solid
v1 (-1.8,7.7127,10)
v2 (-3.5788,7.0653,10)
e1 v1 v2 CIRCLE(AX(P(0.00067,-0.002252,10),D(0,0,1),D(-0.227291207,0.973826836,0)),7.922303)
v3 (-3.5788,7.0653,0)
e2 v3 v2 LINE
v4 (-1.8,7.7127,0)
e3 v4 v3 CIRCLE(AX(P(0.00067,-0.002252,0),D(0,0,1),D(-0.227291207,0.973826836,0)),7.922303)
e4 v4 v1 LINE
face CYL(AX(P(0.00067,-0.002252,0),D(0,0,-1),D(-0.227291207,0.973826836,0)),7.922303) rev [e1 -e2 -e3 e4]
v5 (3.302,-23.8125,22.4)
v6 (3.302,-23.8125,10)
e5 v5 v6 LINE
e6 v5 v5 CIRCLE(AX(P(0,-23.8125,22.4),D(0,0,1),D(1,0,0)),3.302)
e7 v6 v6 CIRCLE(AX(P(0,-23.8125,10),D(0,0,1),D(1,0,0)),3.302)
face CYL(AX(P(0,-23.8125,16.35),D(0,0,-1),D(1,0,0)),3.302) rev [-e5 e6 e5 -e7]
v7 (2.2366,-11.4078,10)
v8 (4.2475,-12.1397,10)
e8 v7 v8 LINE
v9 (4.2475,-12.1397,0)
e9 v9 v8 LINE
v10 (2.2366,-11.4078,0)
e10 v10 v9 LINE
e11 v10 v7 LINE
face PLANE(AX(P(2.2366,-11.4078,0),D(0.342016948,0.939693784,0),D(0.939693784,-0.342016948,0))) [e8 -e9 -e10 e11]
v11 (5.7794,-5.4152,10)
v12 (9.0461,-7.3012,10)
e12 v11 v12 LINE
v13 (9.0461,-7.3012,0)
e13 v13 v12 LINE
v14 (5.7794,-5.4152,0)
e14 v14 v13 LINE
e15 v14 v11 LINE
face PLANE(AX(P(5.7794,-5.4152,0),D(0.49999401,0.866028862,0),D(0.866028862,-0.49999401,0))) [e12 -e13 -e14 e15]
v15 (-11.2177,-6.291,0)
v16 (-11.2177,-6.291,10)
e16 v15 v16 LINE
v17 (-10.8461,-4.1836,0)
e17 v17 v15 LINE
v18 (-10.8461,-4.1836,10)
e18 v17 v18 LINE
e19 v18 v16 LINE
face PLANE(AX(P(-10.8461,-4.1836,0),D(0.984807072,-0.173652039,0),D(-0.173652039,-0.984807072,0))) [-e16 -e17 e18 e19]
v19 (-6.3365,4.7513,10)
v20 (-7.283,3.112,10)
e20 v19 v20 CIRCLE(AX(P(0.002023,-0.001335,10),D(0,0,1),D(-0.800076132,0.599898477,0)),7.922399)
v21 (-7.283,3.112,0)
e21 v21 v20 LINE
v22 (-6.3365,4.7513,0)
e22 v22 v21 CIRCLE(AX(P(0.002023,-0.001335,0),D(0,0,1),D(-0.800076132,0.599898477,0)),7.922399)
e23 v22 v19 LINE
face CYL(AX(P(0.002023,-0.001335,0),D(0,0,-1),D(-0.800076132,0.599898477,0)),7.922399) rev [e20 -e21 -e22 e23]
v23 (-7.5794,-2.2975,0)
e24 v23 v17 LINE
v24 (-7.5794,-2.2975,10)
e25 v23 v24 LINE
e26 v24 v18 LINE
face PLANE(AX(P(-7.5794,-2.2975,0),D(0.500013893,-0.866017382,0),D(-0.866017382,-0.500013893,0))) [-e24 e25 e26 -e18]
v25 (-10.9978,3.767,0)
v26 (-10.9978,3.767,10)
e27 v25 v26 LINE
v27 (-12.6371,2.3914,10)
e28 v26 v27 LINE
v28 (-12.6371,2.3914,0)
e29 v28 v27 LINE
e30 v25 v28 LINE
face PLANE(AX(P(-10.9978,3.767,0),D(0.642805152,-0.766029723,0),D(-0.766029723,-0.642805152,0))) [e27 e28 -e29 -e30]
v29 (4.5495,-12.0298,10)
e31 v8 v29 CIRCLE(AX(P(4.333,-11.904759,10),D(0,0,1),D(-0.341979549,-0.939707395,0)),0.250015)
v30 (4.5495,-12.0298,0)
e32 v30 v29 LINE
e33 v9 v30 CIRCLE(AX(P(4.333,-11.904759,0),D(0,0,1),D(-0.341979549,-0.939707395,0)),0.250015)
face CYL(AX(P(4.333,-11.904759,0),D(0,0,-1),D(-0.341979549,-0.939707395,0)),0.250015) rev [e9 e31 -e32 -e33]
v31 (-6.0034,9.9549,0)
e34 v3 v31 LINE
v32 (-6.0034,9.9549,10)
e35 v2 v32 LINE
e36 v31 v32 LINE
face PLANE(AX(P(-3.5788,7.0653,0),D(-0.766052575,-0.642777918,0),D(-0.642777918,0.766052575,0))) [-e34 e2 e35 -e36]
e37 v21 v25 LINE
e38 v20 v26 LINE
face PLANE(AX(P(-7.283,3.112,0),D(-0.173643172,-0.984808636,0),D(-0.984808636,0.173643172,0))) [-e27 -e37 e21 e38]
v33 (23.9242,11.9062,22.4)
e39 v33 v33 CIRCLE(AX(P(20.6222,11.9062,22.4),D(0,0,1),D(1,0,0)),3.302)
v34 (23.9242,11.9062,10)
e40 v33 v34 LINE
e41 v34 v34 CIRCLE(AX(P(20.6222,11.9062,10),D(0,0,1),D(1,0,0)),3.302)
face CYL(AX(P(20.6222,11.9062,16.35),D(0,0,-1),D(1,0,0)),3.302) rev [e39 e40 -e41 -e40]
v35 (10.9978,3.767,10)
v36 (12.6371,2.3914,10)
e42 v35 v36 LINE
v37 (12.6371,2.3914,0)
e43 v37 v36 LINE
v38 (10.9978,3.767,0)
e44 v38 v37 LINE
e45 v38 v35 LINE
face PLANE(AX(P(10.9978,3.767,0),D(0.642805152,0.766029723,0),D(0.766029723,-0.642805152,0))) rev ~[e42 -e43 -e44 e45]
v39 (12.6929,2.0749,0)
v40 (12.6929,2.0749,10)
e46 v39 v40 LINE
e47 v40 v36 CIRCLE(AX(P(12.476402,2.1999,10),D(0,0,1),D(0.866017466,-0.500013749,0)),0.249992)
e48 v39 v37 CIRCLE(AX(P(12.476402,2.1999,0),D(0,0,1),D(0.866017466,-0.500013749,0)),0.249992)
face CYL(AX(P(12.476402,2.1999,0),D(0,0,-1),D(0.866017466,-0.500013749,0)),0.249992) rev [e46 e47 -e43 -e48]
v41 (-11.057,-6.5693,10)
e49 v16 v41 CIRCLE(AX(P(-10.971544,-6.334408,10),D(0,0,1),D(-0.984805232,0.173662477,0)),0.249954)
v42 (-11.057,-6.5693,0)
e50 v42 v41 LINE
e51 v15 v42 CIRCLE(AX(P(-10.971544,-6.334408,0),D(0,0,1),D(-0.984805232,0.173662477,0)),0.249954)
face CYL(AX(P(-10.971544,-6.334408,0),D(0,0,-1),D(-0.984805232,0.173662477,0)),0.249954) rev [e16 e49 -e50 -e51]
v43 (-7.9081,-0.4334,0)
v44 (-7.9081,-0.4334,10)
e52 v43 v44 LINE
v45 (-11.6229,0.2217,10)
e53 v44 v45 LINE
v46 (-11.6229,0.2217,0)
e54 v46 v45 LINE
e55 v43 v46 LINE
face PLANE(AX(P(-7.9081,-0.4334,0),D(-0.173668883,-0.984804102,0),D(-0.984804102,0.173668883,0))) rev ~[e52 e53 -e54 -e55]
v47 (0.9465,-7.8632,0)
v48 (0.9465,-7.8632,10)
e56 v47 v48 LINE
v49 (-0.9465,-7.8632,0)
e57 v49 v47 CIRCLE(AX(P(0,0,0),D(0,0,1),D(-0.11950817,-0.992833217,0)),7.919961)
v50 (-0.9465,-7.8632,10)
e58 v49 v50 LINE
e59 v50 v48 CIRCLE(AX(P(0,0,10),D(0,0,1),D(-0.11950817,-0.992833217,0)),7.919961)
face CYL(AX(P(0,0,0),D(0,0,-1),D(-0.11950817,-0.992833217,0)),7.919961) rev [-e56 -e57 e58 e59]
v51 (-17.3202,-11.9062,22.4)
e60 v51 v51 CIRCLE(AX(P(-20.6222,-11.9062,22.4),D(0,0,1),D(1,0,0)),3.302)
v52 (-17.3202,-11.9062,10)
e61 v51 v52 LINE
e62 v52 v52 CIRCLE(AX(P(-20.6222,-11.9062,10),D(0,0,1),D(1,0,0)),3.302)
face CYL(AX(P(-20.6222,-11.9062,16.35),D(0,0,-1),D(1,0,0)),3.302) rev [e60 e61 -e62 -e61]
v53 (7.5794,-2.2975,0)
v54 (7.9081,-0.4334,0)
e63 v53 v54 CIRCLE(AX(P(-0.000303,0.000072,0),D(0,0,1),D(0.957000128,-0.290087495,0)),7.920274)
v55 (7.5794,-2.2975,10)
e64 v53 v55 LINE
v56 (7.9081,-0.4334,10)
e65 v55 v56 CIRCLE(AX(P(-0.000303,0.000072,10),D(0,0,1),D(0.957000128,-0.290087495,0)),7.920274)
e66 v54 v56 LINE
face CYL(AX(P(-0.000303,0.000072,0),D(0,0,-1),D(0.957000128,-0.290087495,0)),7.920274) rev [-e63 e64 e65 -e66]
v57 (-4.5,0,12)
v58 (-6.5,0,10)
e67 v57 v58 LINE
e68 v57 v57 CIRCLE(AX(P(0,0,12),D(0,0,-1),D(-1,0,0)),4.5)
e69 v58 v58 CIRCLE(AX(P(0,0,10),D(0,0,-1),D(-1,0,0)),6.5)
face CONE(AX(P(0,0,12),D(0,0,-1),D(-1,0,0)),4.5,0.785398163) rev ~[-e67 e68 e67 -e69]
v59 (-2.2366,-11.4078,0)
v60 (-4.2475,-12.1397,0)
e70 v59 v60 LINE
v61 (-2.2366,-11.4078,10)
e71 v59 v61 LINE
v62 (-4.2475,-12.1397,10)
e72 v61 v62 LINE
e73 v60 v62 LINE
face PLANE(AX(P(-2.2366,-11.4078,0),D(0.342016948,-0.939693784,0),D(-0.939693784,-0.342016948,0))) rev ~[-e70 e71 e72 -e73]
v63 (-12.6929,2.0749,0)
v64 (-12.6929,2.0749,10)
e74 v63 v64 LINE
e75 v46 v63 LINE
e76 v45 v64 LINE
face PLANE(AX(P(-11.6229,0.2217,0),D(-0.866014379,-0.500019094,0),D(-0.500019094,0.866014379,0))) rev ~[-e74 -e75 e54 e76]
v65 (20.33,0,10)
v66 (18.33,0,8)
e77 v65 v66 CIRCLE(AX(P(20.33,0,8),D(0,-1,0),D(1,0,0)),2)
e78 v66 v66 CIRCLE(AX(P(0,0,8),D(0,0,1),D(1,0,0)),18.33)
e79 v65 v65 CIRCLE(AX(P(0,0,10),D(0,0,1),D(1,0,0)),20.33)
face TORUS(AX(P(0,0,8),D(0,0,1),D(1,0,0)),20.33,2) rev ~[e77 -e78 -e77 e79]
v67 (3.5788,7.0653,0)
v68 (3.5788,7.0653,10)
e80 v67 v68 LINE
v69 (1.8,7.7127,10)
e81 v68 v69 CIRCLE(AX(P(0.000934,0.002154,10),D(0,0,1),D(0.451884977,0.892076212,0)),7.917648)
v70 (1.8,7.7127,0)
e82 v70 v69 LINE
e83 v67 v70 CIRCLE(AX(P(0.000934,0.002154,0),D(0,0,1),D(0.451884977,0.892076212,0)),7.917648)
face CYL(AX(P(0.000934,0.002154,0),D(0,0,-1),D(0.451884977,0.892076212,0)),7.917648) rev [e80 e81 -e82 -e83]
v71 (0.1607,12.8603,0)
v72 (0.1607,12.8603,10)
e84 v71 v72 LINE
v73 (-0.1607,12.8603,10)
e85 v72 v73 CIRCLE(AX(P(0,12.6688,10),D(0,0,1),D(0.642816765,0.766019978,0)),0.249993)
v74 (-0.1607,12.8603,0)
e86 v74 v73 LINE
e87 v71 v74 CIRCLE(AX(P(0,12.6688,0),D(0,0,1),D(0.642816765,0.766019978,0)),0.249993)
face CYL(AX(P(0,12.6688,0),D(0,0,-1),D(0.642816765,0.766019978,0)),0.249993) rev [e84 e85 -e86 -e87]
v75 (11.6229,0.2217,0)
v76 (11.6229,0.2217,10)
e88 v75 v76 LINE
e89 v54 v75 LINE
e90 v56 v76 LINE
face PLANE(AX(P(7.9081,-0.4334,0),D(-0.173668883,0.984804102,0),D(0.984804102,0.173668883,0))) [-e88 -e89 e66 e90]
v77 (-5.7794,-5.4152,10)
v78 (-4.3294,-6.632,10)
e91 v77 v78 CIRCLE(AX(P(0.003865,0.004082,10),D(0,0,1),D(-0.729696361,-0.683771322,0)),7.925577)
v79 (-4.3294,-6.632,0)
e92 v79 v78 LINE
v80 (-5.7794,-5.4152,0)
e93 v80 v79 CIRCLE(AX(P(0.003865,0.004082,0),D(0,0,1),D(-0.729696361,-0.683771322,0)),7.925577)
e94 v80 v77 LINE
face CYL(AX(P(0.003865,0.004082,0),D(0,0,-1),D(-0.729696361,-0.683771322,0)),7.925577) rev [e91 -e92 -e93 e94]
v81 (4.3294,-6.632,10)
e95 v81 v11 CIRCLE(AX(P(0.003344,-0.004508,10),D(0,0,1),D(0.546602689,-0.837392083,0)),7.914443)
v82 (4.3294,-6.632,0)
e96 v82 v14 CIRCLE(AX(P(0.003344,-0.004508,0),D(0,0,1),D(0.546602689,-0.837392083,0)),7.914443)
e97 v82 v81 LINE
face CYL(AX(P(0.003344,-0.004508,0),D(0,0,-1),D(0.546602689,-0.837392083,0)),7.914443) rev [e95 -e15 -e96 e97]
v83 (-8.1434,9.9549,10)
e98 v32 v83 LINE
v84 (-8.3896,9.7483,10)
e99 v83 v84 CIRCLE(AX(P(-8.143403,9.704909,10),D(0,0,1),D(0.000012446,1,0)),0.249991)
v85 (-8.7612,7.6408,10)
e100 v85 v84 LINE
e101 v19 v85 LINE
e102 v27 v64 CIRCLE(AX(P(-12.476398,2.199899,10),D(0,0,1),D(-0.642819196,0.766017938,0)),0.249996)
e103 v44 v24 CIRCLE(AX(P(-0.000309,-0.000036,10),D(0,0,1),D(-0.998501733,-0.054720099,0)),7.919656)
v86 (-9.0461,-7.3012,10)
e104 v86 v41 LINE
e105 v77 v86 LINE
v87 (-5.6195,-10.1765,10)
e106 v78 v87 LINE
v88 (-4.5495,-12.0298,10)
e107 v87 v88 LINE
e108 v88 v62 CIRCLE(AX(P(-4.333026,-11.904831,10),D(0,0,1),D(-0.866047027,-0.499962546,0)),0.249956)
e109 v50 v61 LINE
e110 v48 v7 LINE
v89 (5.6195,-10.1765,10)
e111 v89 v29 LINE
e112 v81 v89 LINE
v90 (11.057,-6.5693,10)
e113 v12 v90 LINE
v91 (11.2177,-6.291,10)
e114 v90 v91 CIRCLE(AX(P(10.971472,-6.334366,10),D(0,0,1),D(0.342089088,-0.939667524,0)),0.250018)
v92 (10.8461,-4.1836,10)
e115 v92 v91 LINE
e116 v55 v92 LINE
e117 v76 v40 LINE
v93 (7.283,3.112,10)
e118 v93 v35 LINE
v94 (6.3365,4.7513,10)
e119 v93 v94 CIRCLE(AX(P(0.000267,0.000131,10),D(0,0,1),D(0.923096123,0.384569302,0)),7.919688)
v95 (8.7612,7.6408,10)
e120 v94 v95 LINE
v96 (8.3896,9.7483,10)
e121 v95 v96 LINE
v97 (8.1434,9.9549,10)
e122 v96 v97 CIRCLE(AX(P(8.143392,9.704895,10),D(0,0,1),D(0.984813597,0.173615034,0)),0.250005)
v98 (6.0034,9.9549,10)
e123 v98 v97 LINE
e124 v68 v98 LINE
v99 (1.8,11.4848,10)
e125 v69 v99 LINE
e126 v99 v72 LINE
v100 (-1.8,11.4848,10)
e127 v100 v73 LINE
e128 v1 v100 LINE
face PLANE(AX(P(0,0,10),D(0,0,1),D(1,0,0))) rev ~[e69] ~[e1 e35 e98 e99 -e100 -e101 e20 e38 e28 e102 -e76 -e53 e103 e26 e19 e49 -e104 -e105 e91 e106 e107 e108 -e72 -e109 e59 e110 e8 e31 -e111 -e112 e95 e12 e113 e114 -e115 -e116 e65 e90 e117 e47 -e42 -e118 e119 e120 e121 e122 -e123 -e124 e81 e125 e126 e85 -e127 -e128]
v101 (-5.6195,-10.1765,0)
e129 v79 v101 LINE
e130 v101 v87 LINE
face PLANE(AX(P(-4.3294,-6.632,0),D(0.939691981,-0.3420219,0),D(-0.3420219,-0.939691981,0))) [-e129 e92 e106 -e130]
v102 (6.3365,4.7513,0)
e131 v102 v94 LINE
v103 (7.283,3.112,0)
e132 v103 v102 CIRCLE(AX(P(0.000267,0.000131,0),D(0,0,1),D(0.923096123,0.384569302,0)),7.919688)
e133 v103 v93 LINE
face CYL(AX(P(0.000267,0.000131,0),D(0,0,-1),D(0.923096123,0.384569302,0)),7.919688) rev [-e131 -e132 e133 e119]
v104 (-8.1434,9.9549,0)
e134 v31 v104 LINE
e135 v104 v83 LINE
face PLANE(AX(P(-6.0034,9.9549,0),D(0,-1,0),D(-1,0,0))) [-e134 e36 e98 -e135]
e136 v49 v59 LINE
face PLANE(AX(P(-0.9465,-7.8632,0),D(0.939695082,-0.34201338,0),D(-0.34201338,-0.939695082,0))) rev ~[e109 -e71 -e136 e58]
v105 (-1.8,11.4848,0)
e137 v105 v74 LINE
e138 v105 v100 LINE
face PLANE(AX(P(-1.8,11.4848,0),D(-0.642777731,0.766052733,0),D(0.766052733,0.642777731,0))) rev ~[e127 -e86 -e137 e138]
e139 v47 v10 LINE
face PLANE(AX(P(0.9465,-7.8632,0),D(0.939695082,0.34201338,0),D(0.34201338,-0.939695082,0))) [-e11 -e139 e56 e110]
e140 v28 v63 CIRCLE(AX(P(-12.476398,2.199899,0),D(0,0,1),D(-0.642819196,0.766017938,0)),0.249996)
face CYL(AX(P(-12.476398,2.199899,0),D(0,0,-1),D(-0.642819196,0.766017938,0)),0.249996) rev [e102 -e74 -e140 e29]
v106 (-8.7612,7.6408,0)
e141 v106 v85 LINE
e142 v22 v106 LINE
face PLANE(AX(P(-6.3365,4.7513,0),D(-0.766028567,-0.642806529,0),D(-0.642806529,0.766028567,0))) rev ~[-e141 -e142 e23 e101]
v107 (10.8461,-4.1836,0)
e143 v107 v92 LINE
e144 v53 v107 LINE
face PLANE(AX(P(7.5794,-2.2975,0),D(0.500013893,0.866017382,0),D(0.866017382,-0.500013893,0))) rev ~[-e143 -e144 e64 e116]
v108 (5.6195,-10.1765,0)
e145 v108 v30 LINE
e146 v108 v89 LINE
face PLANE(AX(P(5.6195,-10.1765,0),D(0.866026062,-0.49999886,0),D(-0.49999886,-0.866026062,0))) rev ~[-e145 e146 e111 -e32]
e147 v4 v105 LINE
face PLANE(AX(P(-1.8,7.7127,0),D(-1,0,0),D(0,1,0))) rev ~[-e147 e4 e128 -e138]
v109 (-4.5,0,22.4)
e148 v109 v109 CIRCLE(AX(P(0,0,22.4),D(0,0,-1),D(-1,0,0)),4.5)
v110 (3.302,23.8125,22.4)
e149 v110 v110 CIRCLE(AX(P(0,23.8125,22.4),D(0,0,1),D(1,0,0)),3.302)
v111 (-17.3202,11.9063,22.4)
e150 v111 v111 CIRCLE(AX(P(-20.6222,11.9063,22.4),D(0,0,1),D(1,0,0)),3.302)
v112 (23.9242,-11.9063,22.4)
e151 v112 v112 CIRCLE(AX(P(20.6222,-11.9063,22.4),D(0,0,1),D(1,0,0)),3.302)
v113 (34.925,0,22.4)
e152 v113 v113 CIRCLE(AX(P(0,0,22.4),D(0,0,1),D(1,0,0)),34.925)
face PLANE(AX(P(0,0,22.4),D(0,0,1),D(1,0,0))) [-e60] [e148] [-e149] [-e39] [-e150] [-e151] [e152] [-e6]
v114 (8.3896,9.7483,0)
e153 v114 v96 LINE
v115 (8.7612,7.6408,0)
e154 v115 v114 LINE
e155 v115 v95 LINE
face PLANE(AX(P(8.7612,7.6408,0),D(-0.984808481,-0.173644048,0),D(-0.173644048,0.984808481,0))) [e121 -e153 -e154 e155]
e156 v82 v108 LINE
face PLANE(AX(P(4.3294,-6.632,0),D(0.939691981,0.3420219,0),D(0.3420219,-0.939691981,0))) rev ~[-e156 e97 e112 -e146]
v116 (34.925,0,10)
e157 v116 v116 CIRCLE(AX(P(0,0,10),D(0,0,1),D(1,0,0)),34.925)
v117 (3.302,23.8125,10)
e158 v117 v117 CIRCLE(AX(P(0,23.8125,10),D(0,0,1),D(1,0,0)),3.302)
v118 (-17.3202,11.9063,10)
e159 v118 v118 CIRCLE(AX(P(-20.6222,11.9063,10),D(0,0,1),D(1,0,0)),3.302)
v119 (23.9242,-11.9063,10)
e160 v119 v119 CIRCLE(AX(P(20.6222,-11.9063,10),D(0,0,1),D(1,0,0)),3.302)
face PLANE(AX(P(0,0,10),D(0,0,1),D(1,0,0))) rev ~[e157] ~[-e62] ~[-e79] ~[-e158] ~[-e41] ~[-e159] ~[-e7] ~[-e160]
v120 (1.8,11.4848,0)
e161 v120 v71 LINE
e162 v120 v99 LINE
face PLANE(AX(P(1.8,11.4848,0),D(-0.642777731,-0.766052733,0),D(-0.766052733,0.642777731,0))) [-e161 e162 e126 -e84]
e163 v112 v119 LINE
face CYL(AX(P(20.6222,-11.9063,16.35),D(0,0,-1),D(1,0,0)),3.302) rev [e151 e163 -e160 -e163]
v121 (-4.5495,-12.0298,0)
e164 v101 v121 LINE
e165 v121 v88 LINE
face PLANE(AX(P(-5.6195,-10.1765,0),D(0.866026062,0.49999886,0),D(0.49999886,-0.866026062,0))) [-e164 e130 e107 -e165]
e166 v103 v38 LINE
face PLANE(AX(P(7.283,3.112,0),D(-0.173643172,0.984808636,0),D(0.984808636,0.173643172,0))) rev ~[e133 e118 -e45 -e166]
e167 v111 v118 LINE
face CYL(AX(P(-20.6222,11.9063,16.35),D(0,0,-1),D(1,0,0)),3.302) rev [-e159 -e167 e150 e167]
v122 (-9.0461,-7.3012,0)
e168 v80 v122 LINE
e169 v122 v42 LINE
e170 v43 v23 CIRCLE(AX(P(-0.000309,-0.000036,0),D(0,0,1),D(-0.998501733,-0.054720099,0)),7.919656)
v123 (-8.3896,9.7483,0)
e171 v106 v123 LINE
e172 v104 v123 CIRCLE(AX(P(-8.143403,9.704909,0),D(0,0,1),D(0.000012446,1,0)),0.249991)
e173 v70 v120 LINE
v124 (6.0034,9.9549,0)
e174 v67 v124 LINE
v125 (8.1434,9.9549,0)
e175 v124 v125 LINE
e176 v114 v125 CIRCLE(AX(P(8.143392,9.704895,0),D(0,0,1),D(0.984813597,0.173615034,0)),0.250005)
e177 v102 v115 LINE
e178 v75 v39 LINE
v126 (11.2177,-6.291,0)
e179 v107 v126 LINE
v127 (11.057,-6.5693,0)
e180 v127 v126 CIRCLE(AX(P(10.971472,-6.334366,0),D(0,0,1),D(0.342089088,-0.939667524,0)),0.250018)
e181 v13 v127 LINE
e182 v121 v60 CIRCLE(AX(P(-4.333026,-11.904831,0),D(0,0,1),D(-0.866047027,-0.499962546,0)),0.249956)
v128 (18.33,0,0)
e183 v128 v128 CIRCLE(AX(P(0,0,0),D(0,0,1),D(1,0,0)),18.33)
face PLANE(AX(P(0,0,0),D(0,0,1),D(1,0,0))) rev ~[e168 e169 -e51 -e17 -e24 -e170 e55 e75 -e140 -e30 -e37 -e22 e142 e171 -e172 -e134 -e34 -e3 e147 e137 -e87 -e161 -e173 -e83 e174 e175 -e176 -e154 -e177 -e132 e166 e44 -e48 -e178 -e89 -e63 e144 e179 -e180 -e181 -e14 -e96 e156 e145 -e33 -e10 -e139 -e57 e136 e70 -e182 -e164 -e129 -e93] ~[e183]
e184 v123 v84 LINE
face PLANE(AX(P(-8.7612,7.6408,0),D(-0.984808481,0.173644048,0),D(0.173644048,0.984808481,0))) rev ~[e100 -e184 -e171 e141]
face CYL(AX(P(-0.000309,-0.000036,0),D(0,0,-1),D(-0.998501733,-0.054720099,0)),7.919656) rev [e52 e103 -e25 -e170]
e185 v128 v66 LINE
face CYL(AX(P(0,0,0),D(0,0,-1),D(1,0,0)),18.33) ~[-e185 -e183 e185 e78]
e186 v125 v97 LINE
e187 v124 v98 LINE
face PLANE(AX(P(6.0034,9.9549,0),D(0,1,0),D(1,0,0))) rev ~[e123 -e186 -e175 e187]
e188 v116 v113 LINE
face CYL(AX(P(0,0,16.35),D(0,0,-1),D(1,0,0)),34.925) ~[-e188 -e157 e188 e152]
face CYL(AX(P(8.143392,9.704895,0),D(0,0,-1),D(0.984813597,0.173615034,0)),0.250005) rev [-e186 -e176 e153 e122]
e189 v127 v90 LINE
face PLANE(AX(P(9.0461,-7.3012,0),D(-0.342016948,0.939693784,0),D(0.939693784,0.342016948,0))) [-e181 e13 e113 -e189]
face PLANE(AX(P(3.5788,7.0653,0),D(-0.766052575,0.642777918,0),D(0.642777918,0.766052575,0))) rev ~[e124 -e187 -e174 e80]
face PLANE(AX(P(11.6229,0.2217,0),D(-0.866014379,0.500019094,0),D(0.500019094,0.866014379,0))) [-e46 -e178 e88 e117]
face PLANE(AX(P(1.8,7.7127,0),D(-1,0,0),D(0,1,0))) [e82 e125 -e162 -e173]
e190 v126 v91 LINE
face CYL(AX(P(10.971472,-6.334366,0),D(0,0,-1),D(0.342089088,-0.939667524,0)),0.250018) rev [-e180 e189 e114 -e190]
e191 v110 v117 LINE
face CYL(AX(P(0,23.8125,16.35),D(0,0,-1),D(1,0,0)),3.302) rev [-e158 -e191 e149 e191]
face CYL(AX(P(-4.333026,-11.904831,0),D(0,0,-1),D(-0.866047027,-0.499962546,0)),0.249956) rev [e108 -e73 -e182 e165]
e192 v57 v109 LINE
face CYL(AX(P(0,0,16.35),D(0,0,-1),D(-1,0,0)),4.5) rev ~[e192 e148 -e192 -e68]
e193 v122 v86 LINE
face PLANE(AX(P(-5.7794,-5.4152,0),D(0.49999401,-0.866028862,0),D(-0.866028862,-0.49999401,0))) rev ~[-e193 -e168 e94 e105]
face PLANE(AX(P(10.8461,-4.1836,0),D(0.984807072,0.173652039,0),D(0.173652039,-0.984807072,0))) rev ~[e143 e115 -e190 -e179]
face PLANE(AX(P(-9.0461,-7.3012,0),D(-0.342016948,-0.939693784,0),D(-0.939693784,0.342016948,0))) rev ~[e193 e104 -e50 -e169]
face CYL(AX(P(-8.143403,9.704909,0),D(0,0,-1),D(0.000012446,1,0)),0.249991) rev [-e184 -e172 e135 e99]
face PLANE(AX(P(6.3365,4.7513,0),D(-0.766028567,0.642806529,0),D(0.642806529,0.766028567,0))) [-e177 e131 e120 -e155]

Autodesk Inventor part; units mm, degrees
ref_plane "YZ Plane" through (0, 0, 0) normal (1, 0, 0) x (0, 1, 0)
sketch "Sketch1" plane through (0, 0, 0) normal (0, 0, 1) x (1, 0, 0)
  circle A0 centre (0, 0) radius 18.33
  arc A1 (-1.8, 7.7127) -> (-3.5788, 7.0653) centre (0, 0) ccw
  arc A2 (3.5788, 7.0653) -> (1.8, 7.7127) centre (0, 0) ccw
  arc A3 (7.3109, 3.0458) -> (6.3365, 4.7513) centre (0, 0) ccw
  arc A4 (7.5794, -2.2975) -> (7.9081, -0.4334) centre (0, 0) ccw
  arc A5 (4.3294, -6.632) -> (5.7794, -5.4152) centre (0, 0) ccw
  arc A6 (-0.9465, -7.8632) -> (0.9465, -7.8632) centre (0, 0) ccw
  arc A7 (-5.7794, -5.4152) -> (-4.3294, -6.632) centre (0, 0) ccw
  arc A8 (-6.3365, 4.7513) -> (-7.283, 3.112) centre (0, 0) ccw
  arc A9 (-7.9081, -0.4334) -> (-7.5794, -2.2975) centre (0, 0) ccw
  line L0 (-0.9465, -7.8632) -> (-2.2366, -11.4078)
  line L1 (-4.3294, -6.632) -> (-5.6195, -10.1765)
  line L2 (-5.6195, -10.1765) -> (-4.5495, -12.0298)
  line L3 (-2.2366, -11.4078) -> (-4.2475, -12.1397)
  arc A10 (-4.5495, -12.0298) -> (-4.2475, -12.1397) centre (-4.333, -11.9048) ccw
  line L4 (4.3294, -6.632) -> (5.6195, -10.1765)
  line L5 (0.9465, -7.8632) -> (2.2366, -11.4078)
  line L6 (2.2366, -11.4078) -> (4.2475, -12.1397)
  line L7 (5.6195, -10.1765) -> (4.5495, -12.0298)
  arc A11 (4.2475, -12.1397) -> (4.5495, -12.0298) centre (4.333, -11.9048) ccw
  line L8 (7.5794, -2.2975) -> (10.8461, -4.1836)
  line L9 (5.7794, -5.4152) -> (9.0461, -7.3012)
  line L10 (9.0461, -7.3012) -> (11.057, -6.5693)
  line L11 (10.8461, -4.1836) -> (11.2177, -6.291)
  arc A12 (11.057, -6.5693) -> (11.2177, -6.291) centre (10.9715, -6.3344) ccw
  line L12 (7.283, 3.112) -> (10.9978, 3.767)
  line L13 (7.9081, -0.4334) -> (11.6229, 0.2217)
  line L14 (11.6229, 0.2217) -> (12.6929, 2.0749)
  line L15 (10.9978, 3.767) -> (12.6371, 2.3914)
  arc A13 (12.6929, 2.0749) -> (12.6371, 2.3914) centre (12.4764, 2.1999) ccw
  line L16 (3.5788, 7.0653) -> (6.0034, 9.9549)
  line L17 (6.3365, 4.7513) -> (8.7612, 7.6408)
  line L18 (8.7612, 7.6408) -> (8.3896, 9.7483)
  line L19 (6.0034, 9.9549) -> (8.1434, 9.9549)
  arc A14 (8.3896, 9.7483) -> (8.1434, 9.9549) centre (8.1434, 9.7049) ccw
  line L20 (-1.8, 7.7127) -> (-1.8, 11.4848)
  line L21 (1.8, 7.7127) -> (1.8, 11.4848)
  line L22 (1.8, 11.4848) -> (0.1607, 12.8603)
  line L23 (-1.8, 11.4848) -> (-0.1607, 12.8603)
  arc A15 (0.1607, 12.8603) -> (-0.1607, 12.8603) centre (0, 12.6688) ccw
  line L24 (-6.3365, 4.7513) -> (-8.7612, 7.6408)
  line L25 (-3.5788, 7.0653) -> (-6.0034, 9.9549)
  line L26 (-6.0034, 9.9549) -> (-8.1434, 9.9549)
  line L27 (-8.7612, 7.6408) -> (-8.3896, 9.7483)
  arc A16 (-8.1434, 9.9549) -> (-8.3896, 9.7483) centre (-8.1434, 9.7049) ccw
  line L28 (-7.9081, -0.4334) -> (-11.6229, 0.2217)
  line L29 (-7.283, 3.112) -> (-10.9978, 3.767)
  line L30 (-10.9978, 3.767) -> (-12.6371, 2.3914)
  line L31 (-11.6229, 0.2217) -> (-12.6929, 2.0749)
  arc A17 (-12.6371, 2.3914) -> (-12.6929, 2.0749) centre (-12.4764, 2.1999) ccw
  line L32 (-5.7794, -5.4152) -> (-9.0461, -7.3012)
  line L33 (-7.5794, -2.2975) -> (-10.8461, -4.1836)
  line L34 (-10.8461, -4.1836) -> (-11.2177, -6.291)
  line L35 (-9.0461, -7.3012) -> (-11.057, -6.5693)
  arc A18 (-11.2177, -6.291) -> (-11.057, -6.5693) centre (-10.9715, -6.3344) ccw
  arc A19 (-0.9465, -7.8632) -> (0.9465, -7.8632) centre (0, 0) ccw
  arc A20 (4.3294, -6.632) -> (5.7794, -5.4152) centre (0, 0) ccw
  arc A21 (7.5794, -2.2975) -> (7.9081, -0.4334) centre (0, 0) ccw
  arc A22 (7.283, 3.112) -> (6.3365, 4.7513) centre (0, 0) ccw
  arc A23 (3.5788, 7.0653) -> (1.8, 7.7127) centre (0, 0) ccw
  arc A24 (-1.8, 7.7127) -> (-3.5788, 7.0653) centre (0, 0) ccw
  arc A25 (-6.3365, 4.7513) -> (-7.283, 3.112) centre (0, 0) ccw
  arc A26 (-7.9081, -0.4334) -> (-7.5794, -2.2975) centre (0, 0) ccw
  arc A27 (-5.7794, -5.4152) -> (-4.3294, -6.632) centre (0, 0) ccw
  point P0 (-2.306, -11.394)
  point P1 (-5.5574, -10.2106)
  dimension "d58" = 0.25
  dimension "d61" = 360
ref_plane "Work Plane1" through (0, 0, 10) normal (0, 0, 1) x (1, 0, 0)
sketch "Sketch2" plane through (0, 0, 10) normal (0, 0, 1) x (1, 0, 0)
  circle A0 centre (0, 0) radius 34.925
  circle A1 centre (0, 23.8125) radius 3.302
  circle A2 centre (-20.6222, 11.9063) radius 3.302
  circle A3 centre (-20.6222, -11.9062) radius 3.302
  circle A4 centre (0, -23.8125) radius 3.302
  circle A5 centre (20.6222, -11.9063) radius 3.302
  circle A6 centre (20.6222, 11.9062) radius 3.302
  dimension "d42" = 69.85
  dimension "d44" = 6.604
  dimension "d47" = 360
extrude "Extrusion2" add sketch "Sketch2" along normal blind 6.35
ref_plane "Work Plane2" through (0, 0, 10) normal (0, 0, -1) x (-1, 0, 0)
extrude "Extrusion4" add sketch "Sketch1" along normal up to surface (10 mm away)
sketch "Sketch4" plane through (0, 0, 10) normal (0, 0, -1) x (-1, 0, 0)
  circle A0 centre (0, 0) radius 4.5
  dimension "d65" = 9
extrude "Extrusion5" cut sketch "Sketch4" against normal blind 10
fillet "Fillet1" radius 2 1 edges at (-18.33, 0, 10)
sketch "Sketch6" plane through (0, 0, 16.35) normal (0, 0, 1) x (1, 0, 0)
  circle A0 centre (0, 0) radius 34.925
  circle A1 centre (0, -23.8125) radius 3.302 projected
  circle A2 centre (0, -23.8125) radius 3.302
  circle A3 centre (20.6222, -11.9063) radius 3.302
  circle A4 centre (20.6222, 11.9062) radius 3.302
  circle A5 centre (0, 23.8125) radius 3.302
  circle A6 centre (-20.6222, 11.9063) radius 3.302
  circle A7 centre (-20.6222, -11.9062) radius 3.302
  dimension "d77" = 360
extrude "Extrusion7" add sketch "Sketch6" along normal blind 6.05
sketch "Sketch7" plane through (0, 0, 16.35) normal (0, 0, -1) x (-1, 0, 0)
  circle A0 centre (0, 0) radius 4.5
extrude "Extrusion8" cut sketch "Sketch7" against normal up to surface (6.05 mm away)
chamfer "Chamfer1" distance 2 angle 45 1 edges at (4.5, 0, 10)
properties part number "Window Motor Adapter"
